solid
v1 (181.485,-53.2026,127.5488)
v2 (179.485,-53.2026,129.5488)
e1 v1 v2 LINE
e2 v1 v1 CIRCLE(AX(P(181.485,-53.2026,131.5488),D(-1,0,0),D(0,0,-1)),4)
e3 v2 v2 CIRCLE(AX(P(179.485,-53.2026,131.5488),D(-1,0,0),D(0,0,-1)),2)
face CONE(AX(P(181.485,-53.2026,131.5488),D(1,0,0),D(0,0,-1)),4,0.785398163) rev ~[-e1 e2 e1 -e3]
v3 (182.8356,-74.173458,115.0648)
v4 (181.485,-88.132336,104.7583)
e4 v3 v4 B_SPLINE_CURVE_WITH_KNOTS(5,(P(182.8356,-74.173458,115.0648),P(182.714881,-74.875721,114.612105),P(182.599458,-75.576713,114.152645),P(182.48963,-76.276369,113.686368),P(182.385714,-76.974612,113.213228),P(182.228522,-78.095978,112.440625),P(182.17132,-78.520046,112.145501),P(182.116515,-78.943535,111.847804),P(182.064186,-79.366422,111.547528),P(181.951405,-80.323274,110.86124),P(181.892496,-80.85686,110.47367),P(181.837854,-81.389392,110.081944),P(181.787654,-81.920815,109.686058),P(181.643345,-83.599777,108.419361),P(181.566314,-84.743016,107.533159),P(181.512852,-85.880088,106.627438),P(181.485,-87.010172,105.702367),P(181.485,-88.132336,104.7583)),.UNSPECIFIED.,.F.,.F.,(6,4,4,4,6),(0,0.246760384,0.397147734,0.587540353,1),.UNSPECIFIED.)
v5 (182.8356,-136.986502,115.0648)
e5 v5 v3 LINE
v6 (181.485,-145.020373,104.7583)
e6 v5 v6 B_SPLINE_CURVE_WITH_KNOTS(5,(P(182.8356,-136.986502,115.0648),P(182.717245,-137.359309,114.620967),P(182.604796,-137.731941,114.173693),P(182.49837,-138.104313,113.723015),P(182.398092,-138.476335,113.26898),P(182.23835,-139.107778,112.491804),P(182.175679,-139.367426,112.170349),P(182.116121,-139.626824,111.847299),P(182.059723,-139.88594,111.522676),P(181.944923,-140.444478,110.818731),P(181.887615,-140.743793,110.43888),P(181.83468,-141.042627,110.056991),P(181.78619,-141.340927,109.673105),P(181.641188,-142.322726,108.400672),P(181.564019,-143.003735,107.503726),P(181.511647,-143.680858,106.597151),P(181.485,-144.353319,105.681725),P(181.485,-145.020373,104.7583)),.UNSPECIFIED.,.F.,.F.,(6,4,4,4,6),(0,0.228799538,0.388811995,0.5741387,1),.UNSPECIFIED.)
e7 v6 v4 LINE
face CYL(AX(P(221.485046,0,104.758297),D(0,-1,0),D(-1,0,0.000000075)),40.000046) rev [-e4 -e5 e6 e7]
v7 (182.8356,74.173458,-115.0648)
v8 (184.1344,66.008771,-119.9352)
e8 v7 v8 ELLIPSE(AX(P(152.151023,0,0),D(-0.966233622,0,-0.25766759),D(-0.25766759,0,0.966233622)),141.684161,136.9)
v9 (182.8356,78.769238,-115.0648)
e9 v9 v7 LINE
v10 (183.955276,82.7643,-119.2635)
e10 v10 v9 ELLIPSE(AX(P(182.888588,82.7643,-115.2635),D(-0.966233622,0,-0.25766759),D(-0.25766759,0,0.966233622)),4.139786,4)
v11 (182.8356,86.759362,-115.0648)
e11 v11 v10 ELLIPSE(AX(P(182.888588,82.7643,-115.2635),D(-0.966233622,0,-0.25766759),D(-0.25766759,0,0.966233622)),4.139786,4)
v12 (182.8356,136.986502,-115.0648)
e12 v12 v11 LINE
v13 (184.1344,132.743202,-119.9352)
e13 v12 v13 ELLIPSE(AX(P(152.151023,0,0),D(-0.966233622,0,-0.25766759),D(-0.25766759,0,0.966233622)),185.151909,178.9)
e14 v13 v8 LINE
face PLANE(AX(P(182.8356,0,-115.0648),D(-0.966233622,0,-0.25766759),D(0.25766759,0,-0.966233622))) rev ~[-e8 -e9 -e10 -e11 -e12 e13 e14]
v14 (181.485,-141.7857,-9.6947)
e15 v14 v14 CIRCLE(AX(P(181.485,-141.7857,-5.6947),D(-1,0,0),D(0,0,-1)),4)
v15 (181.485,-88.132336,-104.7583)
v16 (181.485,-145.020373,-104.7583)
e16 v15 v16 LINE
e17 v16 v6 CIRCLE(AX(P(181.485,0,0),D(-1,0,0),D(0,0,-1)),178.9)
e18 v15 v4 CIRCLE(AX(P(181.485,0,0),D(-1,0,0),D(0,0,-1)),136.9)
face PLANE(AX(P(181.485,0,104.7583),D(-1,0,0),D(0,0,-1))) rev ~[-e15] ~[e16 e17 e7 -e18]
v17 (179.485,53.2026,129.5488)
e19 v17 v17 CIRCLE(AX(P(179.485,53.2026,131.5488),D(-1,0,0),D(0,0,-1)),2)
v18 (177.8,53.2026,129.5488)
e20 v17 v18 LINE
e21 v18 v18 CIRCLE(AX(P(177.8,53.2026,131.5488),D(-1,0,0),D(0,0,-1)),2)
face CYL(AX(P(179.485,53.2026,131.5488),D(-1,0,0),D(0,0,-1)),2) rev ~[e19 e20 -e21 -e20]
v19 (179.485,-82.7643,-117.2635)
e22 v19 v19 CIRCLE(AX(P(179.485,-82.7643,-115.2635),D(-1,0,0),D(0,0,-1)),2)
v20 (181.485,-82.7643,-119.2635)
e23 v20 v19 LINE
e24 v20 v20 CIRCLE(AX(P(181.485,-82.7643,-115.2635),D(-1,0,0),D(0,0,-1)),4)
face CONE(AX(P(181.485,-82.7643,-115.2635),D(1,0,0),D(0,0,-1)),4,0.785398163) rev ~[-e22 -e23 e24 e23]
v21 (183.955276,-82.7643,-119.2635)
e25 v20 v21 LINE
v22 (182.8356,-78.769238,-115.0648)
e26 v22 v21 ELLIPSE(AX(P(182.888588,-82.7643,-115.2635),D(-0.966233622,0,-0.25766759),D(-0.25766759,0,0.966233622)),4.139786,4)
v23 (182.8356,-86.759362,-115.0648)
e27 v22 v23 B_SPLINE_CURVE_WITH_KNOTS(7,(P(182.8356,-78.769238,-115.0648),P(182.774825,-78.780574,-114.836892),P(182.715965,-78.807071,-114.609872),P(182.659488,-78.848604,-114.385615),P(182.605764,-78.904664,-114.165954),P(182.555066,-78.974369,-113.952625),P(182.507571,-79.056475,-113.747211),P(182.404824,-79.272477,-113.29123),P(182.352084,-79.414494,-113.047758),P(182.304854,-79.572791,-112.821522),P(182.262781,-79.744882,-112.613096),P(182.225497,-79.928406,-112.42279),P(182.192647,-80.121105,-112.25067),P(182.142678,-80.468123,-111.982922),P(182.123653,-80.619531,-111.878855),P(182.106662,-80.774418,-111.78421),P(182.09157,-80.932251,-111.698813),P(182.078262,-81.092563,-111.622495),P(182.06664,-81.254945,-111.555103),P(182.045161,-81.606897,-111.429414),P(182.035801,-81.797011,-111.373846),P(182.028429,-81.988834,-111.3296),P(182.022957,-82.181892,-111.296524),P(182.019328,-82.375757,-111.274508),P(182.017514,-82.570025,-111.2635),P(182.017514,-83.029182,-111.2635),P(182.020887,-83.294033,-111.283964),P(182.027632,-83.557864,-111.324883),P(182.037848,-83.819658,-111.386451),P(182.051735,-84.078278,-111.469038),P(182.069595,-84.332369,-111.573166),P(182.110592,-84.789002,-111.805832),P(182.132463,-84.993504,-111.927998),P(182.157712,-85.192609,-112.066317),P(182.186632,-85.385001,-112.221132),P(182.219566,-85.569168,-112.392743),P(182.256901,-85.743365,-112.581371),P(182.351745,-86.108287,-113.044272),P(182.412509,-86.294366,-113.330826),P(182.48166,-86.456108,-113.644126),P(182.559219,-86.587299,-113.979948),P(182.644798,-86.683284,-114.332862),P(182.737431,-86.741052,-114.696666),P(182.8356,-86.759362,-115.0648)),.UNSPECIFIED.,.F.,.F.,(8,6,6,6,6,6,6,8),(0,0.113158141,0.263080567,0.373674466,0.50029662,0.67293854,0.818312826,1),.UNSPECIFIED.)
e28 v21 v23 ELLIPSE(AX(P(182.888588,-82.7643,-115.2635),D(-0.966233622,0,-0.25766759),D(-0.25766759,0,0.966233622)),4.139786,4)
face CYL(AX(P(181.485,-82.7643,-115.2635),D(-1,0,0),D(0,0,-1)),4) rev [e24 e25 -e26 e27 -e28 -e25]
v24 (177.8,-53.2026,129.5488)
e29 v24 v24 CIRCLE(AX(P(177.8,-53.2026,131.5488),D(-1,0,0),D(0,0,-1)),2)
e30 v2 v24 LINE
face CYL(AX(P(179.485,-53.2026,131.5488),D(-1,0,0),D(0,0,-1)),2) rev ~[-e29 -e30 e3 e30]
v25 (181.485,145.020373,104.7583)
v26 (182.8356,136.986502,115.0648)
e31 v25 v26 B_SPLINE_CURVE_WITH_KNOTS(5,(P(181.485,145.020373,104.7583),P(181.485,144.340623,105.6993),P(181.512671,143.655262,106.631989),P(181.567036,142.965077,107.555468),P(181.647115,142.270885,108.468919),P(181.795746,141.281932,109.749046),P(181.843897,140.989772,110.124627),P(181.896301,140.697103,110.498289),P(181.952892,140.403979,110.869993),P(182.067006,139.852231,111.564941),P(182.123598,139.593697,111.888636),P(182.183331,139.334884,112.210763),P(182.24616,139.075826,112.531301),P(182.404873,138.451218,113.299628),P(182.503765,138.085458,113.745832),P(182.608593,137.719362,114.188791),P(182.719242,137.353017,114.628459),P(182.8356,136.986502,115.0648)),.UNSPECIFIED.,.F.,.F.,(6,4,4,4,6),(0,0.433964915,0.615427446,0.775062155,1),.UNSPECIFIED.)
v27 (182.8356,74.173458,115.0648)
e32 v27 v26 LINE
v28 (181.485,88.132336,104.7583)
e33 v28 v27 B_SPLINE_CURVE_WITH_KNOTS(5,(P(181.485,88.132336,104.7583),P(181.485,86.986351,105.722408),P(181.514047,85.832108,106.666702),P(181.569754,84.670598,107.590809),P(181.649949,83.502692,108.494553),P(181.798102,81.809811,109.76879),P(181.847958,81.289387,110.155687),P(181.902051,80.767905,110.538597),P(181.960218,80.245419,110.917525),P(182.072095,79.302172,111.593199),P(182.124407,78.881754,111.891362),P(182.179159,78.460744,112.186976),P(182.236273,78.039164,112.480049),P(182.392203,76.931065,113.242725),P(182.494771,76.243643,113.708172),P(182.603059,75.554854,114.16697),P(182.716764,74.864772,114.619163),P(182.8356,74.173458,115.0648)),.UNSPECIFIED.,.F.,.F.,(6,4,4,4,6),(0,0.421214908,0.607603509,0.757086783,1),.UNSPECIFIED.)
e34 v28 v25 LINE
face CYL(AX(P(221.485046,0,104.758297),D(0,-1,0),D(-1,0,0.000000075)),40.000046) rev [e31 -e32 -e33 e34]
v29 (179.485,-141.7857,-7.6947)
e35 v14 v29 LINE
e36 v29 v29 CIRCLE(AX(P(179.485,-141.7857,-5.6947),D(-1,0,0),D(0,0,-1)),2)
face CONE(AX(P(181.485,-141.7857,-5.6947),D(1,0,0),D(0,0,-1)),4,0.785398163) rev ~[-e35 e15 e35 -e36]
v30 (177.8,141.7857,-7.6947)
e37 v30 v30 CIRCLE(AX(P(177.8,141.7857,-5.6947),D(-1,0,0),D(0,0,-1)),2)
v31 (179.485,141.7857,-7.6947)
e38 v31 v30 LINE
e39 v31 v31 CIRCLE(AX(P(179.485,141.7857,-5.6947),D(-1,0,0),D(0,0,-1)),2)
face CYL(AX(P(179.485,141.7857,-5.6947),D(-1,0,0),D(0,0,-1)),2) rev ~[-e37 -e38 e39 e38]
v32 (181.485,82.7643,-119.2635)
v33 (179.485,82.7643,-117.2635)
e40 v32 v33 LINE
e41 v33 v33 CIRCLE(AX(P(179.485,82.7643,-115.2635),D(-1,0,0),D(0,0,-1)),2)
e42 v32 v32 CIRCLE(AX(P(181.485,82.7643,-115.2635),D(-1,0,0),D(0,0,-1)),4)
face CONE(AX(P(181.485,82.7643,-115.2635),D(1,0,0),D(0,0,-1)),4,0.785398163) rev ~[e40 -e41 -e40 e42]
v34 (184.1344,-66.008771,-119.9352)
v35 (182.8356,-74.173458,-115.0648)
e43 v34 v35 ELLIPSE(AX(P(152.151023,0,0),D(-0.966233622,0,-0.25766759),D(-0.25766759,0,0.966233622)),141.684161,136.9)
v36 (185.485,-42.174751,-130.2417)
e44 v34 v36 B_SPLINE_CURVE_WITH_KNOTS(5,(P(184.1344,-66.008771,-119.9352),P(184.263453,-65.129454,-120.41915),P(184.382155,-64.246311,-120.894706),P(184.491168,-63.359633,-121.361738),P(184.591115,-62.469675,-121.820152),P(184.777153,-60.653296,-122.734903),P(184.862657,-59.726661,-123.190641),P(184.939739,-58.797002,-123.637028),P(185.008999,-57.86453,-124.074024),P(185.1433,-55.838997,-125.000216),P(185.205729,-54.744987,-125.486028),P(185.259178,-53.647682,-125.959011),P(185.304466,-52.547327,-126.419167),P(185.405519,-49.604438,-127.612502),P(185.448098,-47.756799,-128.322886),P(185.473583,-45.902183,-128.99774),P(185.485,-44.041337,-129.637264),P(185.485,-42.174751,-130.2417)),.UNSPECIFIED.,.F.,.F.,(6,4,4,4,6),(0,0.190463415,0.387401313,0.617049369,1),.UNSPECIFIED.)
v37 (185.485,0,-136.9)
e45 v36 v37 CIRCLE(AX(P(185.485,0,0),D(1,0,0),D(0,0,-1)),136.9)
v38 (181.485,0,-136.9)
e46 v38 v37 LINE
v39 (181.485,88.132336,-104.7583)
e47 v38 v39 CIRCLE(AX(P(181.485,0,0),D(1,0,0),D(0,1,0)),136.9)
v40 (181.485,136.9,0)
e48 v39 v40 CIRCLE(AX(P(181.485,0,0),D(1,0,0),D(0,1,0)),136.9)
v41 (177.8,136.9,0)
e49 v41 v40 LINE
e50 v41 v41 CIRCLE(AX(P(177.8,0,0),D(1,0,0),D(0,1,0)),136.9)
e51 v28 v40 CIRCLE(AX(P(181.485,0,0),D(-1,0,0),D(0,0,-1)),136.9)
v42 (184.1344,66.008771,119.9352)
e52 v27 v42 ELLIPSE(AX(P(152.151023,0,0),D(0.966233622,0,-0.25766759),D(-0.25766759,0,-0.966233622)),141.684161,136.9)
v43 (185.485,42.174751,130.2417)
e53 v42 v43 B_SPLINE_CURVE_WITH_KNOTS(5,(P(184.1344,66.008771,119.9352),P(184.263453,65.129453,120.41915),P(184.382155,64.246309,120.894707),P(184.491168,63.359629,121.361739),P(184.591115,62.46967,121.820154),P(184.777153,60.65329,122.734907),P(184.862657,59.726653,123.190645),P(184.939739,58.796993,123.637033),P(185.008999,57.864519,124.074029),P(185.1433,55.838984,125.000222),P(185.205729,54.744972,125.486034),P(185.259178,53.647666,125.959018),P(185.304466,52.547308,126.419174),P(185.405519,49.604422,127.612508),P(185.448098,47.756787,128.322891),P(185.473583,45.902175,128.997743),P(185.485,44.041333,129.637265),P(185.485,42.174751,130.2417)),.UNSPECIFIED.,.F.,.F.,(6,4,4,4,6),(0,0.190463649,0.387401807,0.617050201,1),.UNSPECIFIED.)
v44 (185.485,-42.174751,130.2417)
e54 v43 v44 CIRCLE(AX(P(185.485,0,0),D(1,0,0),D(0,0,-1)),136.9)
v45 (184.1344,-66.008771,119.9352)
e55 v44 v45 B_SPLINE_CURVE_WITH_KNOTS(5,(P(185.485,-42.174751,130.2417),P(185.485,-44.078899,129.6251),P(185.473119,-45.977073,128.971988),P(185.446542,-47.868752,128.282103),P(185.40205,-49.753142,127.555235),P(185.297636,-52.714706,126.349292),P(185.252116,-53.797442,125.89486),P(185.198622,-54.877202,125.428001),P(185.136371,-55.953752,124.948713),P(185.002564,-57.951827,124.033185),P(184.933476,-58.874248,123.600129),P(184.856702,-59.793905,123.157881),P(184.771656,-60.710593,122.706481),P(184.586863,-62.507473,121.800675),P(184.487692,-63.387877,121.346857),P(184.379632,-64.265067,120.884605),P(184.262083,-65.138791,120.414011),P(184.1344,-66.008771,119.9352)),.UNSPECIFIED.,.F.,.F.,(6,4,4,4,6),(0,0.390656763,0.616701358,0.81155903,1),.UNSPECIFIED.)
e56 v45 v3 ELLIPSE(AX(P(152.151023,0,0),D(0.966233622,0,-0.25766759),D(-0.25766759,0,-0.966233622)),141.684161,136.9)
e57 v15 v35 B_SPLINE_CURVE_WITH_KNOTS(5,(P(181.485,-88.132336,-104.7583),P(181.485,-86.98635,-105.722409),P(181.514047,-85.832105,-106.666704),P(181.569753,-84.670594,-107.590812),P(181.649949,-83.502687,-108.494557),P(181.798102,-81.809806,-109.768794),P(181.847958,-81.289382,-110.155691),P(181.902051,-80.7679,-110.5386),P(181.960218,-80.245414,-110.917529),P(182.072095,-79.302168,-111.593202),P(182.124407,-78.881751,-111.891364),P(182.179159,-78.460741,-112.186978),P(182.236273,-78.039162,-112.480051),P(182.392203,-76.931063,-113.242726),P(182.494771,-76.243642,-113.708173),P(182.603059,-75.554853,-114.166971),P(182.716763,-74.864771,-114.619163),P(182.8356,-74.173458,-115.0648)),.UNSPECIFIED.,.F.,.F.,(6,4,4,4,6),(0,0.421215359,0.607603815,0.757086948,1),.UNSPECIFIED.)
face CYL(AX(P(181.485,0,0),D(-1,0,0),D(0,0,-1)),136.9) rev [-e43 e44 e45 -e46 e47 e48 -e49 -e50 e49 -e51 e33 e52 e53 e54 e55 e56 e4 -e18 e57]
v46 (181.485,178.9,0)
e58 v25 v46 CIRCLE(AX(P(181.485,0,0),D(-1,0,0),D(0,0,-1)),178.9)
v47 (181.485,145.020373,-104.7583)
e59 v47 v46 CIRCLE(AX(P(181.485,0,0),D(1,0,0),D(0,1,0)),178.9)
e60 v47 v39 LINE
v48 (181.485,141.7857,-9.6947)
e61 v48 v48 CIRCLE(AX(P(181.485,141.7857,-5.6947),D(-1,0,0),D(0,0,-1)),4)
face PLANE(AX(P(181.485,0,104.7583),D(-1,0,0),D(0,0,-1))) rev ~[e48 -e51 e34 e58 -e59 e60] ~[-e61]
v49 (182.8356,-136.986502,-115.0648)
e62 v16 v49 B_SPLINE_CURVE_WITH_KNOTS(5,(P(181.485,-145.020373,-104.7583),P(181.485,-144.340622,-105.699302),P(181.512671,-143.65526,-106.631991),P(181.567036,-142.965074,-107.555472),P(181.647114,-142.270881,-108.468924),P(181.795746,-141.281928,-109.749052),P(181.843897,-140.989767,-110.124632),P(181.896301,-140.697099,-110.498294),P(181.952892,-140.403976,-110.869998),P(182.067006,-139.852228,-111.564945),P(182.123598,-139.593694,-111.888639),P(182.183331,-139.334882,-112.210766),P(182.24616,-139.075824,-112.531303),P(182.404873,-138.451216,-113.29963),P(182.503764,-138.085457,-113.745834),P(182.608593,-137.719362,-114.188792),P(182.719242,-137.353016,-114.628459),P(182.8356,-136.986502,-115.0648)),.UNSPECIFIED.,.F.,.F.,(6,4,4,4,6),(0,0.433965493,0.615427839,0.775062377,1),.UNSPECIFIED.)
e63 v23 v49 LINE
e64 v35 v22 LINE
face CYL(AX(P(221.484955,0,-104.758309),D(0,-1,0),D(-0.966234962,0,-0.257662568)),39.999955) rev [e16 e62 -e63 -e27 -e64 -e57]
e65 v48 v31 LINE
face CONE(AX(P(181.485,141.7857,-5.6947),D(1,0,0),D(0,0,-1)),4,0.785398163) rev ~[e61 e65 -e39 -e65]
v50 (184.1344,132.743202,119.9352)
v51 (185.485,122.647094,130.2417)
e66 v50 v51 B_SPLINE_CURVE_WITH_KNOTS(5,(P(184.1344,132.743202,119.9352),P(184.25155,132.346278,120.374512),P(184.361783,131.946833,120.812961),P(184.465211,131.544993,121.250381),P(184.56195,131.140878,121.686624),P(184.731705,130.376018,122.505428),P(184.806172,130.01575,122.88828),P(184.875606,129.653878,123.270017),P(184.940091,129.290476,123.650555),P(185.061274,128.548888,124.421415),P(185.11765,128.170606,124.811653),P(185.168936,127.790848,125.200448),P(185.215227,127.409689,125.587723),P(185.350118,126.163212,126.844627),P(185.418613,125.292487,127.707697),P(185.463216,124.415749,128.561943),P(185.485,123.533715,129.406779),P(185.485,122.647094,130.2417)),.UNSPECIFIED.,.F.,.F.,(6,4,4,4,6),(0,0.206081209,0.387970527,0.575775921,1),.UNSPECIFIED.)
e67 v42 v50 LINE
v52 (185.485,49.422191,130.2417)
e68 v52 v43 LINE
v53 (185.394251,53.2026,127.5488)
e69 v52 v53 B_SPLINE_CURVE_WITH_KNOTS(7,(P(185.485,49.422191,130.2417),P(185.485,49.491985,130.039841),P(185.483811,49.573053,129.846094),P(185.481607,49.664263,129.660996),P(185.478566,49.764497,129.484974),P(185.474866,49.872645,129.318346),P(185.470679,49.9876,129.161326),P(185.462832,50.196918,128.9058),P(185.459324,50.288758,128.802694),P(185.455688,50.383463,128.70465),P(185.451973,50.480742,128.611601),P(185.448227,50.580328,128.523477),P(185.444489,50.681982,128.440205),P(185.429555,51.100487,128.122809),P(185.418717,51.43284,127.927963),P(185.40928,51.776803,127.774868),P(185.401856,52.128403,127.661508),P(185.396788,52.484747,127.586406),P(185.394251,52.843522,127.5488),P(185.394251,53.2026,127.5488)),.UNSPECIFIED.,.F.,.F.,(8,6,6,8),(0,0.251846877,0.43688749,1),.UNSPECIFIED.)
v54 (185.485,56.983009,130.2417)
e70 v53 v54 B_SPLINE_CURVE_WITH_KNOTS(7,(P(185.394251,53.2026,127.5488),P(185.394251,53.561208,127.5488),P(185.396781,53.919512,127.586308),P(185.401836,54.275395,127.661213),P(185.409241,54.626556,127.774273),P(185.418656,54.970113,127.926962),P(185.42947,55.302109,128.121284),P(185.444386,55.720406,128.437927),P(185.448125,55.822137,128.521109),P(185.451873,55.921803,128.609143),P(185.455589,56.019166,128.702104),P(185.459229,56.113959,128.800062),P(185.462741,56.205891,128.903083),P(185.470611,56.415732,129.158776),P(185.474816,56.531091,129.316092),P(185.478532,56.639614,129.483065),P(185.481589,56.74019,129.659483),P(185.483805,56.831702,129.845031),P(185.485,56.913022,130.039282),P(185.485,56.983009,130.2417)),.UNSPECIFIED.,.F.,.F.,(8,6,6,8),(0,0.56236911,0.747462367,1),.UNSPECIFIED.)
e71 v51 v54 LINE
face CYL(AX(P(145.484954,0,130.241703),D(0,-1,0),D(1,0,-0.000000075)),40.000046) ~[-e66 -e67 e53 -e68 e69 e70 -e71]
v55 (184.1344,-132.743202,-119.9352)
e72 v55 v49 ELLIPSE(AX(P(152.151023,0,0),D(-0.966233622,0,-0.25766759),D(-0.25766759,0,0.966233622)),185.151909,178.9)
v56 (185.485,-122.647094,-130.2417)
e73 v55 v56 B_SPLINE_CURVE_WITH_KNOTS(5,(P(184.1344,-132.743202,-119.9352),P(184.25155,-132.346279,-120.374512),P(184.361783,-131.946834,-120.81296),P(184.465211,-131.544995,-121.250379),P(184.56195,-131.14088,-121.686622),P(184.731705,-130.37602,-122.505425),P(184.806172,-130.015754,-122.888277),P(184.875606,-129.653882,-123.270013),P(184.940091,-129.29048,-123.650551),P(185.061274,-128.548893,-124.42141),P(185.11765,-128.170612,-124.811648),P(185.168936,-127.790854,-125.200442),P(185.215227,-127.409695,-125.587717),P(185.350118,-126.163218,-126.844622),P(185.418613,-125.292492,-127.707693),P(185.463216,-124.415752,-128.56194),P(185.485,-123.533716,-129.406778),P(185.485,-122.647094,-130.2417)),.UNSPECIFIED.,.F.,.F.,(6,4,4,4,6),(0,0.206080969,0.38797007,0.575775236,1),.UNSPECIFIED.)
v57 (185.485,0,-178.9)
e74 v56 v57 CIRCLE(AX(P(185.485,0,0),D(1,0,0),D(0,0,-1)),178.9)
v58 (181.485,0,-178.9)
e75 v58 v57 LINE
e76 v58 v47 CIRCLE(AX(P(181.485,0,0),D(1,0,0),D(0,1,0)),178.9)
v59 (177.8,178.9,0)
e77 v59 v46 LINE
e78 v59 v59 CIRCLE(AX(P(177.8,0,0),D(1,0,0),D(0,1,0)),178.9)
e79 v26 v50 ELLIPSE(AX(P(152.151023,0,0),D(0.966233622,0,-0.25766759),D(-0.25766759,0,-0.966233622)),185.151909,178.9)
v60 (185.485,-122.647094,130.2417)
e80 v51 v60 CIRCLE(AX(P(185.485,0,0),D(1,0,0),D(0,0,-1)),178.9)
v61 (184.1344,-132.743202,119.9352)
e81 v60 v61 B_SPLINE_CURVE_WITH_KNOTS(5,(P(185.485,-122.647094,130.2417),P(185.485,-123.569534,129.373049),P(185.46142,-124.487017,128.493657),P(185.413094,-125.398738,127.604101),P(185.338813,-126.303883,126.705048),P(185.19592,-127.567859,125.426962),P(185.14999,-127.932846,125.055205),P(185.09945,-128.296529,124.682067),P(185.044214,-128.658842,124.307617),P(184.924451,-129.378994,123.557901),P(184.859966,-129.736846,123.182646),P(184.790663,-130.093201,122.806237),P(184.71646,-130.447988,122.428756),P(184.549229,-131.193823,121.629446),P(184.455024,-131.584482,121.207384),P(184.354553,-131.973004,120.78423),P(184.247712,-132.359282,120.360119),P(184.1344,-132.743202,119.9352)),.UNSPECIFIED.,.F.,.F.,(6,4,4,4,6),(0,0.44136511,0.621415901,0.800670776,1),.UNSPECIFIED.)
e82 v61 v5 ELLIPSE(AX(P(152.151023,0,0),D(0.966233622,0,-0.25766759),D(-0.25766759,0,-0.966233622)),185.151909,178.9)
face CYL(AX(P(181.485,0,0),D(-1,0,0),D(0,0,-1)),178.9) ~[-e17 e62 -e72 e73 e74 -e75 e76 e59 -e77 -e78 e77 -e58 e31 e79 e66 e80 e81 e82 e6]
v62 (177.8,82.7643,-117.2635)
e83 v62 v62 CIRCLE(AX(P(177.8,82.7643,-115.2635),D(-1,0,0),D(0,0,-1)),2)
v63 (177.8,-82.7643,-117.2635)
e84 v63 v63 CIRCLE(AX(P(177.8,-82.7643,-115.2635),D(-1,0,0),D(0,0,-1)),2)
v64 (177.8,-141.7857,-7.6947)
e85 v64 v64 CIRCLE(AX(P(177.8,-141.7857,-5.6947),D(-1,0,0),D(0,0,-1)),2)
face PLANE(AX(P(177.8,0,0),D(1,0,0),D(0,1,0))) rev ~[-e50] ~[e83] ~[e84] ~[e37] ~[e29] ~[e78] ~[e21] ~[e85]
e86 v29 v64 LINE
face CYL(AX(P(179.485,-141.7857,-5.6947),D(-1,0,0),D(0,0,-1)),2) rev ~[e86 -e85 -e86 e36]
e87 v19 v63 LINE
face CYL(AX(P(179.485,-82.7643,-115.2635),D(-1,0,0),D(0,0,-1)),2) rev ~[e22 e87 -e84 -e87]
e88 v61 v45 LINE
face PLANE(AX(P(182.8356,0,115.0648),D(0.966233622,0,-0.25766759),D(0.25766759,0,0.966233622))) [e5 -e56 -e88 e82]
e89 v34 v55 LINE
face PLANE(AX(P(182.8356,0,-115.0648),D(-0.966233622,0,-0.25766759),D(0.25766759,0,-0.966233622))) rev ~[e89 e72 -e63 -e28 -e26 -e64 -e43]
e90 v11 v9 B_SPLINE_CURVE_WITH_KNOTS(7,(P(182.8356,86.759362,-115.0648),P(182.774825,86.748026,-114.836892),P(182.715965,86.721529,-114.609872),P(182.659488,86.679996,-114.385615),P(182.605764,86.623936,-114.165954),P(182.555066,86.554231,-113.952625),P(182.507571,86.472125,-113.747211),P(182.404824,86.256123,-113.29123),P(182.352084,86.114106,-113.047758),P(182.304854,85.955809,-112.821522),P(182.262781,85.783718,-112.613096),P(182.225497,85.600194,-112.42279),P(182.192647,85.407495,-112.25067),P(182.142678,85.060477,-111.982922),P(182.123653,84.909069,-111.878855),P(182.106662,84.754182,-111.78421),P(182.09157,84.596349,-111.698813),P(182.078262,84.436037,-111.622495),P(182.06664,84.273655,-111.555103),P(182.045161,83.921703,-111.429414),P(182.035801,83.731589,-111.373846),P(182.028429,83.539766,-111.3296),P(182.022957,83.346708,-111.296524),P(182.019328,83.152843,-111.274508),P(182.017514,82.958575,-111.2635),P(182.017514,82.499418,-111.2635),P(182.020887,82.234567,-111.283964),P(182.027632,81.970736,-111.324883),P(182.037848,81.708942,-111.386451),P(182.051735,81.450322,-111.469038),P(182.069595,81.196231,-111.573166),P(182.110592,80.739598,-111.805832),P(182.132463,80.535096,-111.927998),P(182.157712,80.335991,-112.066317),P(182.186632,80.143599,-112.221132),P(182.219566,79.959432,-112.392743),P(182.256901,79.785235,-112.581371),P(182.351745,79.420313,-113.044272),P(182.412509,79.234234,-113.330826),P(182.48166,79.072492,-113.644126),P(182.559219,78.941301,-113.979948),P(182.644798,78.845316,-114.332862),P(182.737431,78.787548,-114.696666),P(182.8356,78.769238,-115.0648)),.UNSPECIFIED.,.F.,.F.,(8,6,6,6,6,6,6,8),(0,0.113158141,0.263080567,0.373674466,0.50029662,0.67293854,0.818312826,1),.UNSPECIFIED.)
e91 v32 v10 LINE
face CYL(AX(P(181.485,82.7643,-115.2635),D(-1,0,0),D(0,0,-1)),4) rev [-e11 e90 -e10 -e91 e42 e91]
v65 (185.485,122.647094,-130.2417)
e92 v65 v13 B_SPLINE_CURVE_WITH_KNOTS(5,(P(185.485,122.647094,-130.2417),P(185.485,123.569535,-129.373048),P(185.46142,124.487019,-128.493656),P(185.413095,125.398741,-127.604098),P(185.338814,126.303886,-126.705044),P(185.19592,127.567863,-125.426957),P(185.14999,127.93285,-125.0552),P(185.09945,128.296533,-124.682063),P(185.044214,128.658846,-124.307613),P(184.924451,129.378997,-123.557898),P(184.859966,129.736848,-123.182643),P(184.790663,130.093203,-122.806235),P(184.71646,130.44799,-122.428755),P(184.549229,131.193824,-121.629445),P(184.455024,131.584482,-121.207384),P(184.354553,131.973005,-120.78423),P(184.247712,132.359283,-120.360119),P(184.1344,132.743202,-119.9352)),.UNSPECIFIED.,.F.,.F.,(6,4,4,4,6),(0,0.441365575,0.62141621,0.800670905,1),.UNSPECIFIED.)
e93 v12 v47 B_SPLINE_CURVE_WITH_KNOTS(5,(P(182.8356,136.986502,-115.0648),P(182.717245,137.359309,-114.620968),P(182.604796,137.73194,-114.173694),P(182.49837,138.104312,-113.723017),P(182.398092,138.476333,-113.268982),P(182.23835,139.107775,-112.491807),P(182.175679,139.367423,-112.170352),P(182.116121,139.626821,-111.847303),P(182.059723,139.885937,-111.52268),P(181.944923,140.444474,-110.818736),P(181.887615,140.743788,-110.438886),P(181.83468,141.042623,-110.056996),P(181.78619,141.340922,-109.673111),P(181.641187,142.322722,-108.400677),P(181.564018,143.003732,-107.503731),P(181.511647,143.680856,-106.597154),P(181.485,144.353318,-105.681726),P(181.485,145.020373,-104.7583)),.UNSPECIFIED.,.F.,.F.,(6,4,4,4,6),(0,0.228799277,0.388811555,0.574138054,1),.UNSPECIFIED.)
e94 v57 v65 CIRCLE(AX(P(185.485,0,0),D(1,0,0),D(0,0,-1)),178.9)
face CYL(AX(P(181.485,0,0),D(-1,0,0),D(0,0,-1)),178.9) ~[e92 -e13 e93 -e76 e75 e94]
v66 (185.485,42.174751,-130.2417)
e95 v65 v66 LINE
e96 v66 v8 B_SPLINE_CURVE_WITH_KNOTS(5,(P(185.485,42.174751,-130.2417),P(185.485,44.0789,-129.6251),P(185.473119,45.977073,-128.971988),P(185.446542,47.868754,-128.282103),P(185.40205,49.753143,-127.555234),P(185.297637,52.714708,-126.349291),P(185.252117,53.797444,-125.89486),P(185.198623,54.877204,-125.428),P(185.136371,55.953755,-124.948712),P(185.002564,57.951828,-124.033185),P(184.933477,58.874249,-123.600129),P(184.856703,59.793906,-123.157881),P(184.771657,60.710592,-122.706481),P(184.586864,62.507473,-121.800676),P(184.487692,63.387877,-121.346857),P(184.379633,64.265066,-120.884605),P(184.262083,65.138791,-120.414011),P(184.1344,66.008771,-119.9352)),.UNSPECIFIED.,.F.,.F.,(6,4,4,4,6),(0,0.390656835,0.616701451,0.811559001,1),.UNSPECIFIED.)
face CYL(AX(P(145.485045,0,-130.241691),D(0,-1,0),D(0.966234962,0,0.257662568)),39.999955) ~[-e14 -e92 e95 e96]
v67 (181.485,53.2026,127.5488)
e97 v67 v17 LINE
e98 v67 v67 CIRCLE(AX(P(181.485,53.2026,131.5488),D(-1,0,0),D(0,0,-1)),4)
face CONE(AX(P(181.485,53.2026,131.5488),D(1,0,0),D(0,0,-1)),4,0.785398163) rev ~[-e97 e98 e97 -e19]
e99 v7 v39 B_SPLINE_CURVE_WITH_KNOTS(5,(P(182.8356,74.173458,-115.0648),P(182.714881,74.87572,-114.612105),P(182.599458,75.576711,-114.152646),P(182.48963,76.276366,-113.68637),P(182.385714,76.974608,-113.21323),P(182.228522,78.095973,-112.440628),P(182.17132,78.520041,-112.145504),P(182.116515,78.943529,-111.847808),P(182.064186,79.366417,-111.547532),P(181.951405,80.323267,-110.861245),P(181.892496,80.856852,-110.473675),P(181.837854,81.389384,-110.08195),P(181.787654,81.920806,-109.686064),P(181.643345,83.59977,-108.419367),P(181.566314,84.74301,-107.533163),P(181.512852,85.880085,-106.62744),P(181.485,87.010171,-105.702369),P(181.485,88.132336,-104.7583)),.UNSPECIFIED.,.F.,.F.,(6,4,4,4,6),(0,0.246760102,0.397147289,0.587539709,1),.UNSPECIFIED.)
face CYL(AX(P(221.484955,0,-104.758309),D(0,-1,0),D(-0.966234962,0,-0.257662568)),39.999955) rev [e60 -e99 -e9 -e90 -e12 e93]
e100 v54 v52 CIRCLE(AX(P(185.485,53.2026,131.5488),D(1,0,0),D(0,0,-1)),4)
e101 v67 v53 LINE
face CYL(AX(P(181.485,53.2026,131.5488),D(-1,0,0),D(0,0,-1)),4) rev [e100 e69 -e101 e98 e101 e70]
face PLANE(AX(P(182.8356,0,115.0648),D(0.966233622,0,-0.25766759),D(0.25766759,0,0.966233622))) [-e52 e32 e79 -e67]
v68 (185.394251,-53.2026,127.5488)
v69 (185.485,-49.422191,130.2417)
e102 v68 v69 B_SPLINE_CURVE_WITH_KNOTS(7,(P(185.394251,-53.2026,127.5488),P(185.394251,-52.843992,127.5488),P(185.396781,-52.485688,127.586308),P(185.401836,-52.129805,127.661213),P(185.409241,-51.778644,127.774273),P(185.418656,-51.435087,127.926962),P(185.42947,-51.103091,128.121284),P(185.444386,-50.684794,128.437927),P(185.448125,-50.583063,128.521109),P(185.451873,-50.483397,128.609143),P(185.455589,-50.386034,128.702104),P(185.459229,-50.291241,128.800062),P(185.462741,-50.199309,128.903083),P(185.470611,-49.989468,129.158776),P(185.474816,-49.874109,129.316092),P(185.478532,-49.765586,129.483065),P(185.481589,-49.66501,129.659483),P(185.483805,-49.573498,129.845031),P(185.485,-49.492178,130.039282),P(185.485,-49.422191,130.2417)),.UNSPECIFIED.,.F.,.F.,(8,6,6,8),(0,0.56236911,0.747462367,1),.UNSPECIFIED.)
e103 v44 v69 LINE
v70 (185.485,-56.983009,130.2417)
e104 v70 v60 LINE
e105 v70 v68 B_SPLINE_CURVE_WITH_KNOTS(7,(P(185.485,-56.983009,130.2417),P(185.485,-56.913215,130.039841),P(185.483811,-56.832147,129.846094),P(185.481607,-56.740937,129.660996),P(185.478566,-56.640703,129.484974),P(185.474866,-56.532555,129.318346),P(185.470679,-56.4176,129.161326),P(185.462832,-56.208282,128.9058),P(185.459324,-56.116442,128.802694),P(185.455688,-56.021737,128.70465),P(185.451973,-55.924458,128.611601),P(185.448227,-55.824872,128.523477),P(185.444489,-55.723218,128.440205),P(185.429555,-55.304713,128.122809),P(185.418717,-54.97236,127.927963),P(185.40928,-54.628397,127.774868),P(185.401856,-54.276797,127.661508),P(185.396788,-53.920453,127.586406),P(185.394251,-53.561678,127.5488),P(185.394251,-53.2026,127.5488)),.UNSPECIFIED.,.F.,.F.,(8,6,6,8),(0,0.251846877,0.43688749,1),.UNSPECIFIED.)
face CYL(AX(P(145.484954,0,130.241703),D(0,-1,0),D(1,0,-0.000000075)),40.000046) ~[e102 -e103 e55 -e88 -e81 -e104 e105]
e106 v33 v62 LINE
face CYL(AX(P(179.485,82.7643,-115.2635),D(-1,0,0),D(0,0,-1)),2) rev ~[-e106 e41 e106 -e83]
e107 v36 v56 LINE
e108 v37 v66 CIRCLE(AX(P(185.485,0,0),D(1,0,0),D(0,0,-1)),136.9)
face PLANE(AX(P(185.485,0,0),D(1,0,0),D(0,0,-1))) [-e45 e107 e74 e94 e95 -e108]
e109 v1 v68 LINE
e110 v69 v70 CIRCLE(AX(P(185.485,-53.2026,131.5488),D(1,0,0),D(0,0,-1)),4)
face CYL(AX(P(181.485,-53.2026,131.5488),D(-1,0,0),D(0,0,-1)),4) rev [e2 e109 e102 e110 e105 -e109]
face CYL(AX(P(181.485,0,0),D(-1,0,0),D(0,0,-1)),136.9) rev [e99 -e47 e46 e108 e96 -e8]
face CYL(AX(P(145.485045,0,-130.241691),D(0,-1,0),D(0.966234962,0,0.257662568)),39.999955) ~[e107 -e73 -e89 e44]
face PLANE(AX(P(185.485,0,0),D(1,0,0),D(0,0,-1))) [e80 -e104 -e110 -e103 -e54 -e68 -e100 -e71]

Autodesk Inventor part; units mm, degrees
ref_plane "XY Plane" through (0, 0, 0) normal (0, 0, 1) x (1, 0, 0)
ref_plane "Work Plane1" through (177.8, 0, 0) normal (1, 0, 0) x (0, 1, 0)
sketch "Sketch1" plane through (177.8, 0, 0) normal (1, 0, 0) x (0, 1, 0)
  circle A0 centre (0, 0) radius 178.9
  circle A1 centre (0, 0) radius 136.9
  dimension "d1" = 357.8
  dimension "d2" = 273.8
extrude "Extrusion1" add sketch "Sketch1" along normal blind 3.685
sketch "Sketch2" plane through (181.485, 0, 0) normal (1, 0, 0) x (0, 0, -1)
  line L0 (250.46, 0) -> (-250.46, 0) construction
  line L1 (0, -250.46) -> (0, 250.46) construction
  circle A0 centre (0, 0) radius 141.9 construction
  line L2 (0, 0) -> (-131.5488, 53.2026) construction
  line L3 (0, 0) -> (5.6947, 141.7857) construction
  line L4 (0, 0) -> (115.2635, 82.7643) construction
  point P0 (-131.5488, -53.2026)
  point P1 (5.6947, -141.7857)
  point P2 (115.2635, -82.7643)
  dimension "d5" = 283.8
  dimension "d6" = 22.02
  dimension "d7" = 92.3
  dimension "d8" = 144.32
hole "Hole1" at (181.485, 53.2026, 131.5488) at (181.485, 141.7857, -5.6947) at (181.485, 82.7643, -115.2635) at (181.485, -53.2026, 131.5488) at (181.485, -141.7857, -5.6947) at (181.485, -82.7643, -115.2635) direction (-1, 0, 0) diameter 4 end through all countersink diameter 8 countersink angle 90
sketch "Sketch3" plane through (181.485, 0, 0) normal (1, 0, 0) x (0, 0, -1)
  circle A0 centre (5.6947, -141.7857) radius 4 projected
  circle A1 centre (115.2635, 82.7643) radius 4 projected
  circle A2 centre (-131.5488, 53.2026) radius 4 projected
  circle A3 centre (5.6947, 141.7857) radius 4 projected
  circle A4 centre (-131.5488, -53.2026) radius 4 projected
  circle A5 centre (115.2635, -82.7643) radius 4 projected
  circle A6 centre (0, 0) radius 136.9 projected
  circle A7 centre (0, 0) radius 178.9 projected
extrude "Extrusion2" add sketch "Sketch3" along normal blind 4
sketch "Sketch4" plane through (0, 0, 0) normal (0, 1, 0) x (-1, 0, 0)
  line L0 (-185.485, 178.9) -> (-185.485, -178.9) construction
  line L1 (-177.8, -178.9) -> (-177.8, 178.9) construction
  line L2 (44.297, 0) -> (-265.782, 0) construction
  line L3 (-181.485, 0) -> (-181.485, 104.7583) construction
  line L4 (-185.485, 0) -> (-185.485, 125) construction
  line L5 (-182.8356, 115.0648) -> (-184.1344, 119.9352) construction
  arc A0 (-181.485, 104.7583) -> (-182.8356, 115.0648) centre (-221.485, 104.7583) ccw
  line L6 (-185.485, 130.2417) -> (-185.485, 178.9) construction
  arc A1 (-185.485, 130.2417) -> (-184.1344, 119.9352) centre (-145.485, 130.2417) ccw
  line L7 (-182.8356, 115.0648) -> (-184.1344, 119.9352)
  line L8 (-182.8356, -115.0648) -> (-184.1344, -119.9352) construction
  arc A2 (-182.8356, -115.0648) -> (-181.485, -104.7583) centre (-221.485, -104.7583) ccw
  arc A3 (-184.1344, -119.9352) -> (-185.485, -130.2417) centre (-145.485, -130.2417) ccw
  line L9 (-182.8356, -115.0648) -> (-184.1344, -119.9352)
  line L10 (-181.485, 104.7583) -> (-181.485, -104.7583)
  line L11 (-185.485, -130.2417) -> (-185.485, 130.2417)
  line L12 (-185.485, 127.5488) -> (-185.485, 135.5488) projected
  point P0 (0, 0)
  point P1 (-181.485, 110)
  dimension "d18" = 4
  dimension "d19" = 125
  dimension "d20" = 110
  dimension "d21" = 40
  dimension "d22" = 40
extrude "Extrusion3" cut sketch "Sketch4" along normal through all both and the other way through all
equation "\"d1\" = gxfront_OD"
equation "\"d2\" = gxfront_ID"
equation "\"d3\" = gxfront_t_total"
equation "\"d5\" = gxfront_d_holpos"
equation "\"d6\" = gxfront_a_hol_1"
equation "\"d7\" = gxfront_a_hol_2"
equation "\"d8\" = gxfront_a_hol_3"
equation "\"d9\" = gxfront_d_hol"
equation "\"d11\" = gxfront_d_holcs"
equation "\"d16\" = gxfront_t_extra"
equation "\"d18\" = gxfront_t_extra"
equation "\"d19\" = gxfront_z_extra"
equation "\"d20\" = gxfront_z_flat"
equation "\"d21\" = gxfront_rfillet_zfair"
equation "\"d22\" = gxfront_rfillet_zfair"
equation "\"d23\" = gxfront_t_extra"
equation "\"gxfront_ID\" = 273.8"
equation "\"gxfront_OD\" = 357.8"
equation "\"gxfront_xbot\" = 177.8"
equation "\"gxfront_tbase\" = 1"
equation "\"gxfront_w_wire\" = 1.074"
equation "\"gxfront_t_total\" = 3.685"
equation "\"gxfront_d_holpos\" = 283.8"
equation "\"gxfront_d_hol\" = 4"
equation "\"gxfront_a_hol_1\" = 22.02deg"
equation "\"gxfront_a_hol_2\" = 92.3deg"
equation "\"gxfront_a_hol_3\" = 144.32deg"
equation "\"d0\" = gxfront_xbot"
equation "\"gxfront_d_holcs\" = 8"
equation "\"gxfront_z_extra\" = 125"
equation "\"gxfront_z_flat\" = 110"
equation "\"gxfront_t_extra\" = 4"
equation "\"gxfront_rfillet_zfair\" = 40"
equation "\"gxfront_t_total_offset\" = 0.5"
properties part number "GxFrontplate_base_191210_v02"
